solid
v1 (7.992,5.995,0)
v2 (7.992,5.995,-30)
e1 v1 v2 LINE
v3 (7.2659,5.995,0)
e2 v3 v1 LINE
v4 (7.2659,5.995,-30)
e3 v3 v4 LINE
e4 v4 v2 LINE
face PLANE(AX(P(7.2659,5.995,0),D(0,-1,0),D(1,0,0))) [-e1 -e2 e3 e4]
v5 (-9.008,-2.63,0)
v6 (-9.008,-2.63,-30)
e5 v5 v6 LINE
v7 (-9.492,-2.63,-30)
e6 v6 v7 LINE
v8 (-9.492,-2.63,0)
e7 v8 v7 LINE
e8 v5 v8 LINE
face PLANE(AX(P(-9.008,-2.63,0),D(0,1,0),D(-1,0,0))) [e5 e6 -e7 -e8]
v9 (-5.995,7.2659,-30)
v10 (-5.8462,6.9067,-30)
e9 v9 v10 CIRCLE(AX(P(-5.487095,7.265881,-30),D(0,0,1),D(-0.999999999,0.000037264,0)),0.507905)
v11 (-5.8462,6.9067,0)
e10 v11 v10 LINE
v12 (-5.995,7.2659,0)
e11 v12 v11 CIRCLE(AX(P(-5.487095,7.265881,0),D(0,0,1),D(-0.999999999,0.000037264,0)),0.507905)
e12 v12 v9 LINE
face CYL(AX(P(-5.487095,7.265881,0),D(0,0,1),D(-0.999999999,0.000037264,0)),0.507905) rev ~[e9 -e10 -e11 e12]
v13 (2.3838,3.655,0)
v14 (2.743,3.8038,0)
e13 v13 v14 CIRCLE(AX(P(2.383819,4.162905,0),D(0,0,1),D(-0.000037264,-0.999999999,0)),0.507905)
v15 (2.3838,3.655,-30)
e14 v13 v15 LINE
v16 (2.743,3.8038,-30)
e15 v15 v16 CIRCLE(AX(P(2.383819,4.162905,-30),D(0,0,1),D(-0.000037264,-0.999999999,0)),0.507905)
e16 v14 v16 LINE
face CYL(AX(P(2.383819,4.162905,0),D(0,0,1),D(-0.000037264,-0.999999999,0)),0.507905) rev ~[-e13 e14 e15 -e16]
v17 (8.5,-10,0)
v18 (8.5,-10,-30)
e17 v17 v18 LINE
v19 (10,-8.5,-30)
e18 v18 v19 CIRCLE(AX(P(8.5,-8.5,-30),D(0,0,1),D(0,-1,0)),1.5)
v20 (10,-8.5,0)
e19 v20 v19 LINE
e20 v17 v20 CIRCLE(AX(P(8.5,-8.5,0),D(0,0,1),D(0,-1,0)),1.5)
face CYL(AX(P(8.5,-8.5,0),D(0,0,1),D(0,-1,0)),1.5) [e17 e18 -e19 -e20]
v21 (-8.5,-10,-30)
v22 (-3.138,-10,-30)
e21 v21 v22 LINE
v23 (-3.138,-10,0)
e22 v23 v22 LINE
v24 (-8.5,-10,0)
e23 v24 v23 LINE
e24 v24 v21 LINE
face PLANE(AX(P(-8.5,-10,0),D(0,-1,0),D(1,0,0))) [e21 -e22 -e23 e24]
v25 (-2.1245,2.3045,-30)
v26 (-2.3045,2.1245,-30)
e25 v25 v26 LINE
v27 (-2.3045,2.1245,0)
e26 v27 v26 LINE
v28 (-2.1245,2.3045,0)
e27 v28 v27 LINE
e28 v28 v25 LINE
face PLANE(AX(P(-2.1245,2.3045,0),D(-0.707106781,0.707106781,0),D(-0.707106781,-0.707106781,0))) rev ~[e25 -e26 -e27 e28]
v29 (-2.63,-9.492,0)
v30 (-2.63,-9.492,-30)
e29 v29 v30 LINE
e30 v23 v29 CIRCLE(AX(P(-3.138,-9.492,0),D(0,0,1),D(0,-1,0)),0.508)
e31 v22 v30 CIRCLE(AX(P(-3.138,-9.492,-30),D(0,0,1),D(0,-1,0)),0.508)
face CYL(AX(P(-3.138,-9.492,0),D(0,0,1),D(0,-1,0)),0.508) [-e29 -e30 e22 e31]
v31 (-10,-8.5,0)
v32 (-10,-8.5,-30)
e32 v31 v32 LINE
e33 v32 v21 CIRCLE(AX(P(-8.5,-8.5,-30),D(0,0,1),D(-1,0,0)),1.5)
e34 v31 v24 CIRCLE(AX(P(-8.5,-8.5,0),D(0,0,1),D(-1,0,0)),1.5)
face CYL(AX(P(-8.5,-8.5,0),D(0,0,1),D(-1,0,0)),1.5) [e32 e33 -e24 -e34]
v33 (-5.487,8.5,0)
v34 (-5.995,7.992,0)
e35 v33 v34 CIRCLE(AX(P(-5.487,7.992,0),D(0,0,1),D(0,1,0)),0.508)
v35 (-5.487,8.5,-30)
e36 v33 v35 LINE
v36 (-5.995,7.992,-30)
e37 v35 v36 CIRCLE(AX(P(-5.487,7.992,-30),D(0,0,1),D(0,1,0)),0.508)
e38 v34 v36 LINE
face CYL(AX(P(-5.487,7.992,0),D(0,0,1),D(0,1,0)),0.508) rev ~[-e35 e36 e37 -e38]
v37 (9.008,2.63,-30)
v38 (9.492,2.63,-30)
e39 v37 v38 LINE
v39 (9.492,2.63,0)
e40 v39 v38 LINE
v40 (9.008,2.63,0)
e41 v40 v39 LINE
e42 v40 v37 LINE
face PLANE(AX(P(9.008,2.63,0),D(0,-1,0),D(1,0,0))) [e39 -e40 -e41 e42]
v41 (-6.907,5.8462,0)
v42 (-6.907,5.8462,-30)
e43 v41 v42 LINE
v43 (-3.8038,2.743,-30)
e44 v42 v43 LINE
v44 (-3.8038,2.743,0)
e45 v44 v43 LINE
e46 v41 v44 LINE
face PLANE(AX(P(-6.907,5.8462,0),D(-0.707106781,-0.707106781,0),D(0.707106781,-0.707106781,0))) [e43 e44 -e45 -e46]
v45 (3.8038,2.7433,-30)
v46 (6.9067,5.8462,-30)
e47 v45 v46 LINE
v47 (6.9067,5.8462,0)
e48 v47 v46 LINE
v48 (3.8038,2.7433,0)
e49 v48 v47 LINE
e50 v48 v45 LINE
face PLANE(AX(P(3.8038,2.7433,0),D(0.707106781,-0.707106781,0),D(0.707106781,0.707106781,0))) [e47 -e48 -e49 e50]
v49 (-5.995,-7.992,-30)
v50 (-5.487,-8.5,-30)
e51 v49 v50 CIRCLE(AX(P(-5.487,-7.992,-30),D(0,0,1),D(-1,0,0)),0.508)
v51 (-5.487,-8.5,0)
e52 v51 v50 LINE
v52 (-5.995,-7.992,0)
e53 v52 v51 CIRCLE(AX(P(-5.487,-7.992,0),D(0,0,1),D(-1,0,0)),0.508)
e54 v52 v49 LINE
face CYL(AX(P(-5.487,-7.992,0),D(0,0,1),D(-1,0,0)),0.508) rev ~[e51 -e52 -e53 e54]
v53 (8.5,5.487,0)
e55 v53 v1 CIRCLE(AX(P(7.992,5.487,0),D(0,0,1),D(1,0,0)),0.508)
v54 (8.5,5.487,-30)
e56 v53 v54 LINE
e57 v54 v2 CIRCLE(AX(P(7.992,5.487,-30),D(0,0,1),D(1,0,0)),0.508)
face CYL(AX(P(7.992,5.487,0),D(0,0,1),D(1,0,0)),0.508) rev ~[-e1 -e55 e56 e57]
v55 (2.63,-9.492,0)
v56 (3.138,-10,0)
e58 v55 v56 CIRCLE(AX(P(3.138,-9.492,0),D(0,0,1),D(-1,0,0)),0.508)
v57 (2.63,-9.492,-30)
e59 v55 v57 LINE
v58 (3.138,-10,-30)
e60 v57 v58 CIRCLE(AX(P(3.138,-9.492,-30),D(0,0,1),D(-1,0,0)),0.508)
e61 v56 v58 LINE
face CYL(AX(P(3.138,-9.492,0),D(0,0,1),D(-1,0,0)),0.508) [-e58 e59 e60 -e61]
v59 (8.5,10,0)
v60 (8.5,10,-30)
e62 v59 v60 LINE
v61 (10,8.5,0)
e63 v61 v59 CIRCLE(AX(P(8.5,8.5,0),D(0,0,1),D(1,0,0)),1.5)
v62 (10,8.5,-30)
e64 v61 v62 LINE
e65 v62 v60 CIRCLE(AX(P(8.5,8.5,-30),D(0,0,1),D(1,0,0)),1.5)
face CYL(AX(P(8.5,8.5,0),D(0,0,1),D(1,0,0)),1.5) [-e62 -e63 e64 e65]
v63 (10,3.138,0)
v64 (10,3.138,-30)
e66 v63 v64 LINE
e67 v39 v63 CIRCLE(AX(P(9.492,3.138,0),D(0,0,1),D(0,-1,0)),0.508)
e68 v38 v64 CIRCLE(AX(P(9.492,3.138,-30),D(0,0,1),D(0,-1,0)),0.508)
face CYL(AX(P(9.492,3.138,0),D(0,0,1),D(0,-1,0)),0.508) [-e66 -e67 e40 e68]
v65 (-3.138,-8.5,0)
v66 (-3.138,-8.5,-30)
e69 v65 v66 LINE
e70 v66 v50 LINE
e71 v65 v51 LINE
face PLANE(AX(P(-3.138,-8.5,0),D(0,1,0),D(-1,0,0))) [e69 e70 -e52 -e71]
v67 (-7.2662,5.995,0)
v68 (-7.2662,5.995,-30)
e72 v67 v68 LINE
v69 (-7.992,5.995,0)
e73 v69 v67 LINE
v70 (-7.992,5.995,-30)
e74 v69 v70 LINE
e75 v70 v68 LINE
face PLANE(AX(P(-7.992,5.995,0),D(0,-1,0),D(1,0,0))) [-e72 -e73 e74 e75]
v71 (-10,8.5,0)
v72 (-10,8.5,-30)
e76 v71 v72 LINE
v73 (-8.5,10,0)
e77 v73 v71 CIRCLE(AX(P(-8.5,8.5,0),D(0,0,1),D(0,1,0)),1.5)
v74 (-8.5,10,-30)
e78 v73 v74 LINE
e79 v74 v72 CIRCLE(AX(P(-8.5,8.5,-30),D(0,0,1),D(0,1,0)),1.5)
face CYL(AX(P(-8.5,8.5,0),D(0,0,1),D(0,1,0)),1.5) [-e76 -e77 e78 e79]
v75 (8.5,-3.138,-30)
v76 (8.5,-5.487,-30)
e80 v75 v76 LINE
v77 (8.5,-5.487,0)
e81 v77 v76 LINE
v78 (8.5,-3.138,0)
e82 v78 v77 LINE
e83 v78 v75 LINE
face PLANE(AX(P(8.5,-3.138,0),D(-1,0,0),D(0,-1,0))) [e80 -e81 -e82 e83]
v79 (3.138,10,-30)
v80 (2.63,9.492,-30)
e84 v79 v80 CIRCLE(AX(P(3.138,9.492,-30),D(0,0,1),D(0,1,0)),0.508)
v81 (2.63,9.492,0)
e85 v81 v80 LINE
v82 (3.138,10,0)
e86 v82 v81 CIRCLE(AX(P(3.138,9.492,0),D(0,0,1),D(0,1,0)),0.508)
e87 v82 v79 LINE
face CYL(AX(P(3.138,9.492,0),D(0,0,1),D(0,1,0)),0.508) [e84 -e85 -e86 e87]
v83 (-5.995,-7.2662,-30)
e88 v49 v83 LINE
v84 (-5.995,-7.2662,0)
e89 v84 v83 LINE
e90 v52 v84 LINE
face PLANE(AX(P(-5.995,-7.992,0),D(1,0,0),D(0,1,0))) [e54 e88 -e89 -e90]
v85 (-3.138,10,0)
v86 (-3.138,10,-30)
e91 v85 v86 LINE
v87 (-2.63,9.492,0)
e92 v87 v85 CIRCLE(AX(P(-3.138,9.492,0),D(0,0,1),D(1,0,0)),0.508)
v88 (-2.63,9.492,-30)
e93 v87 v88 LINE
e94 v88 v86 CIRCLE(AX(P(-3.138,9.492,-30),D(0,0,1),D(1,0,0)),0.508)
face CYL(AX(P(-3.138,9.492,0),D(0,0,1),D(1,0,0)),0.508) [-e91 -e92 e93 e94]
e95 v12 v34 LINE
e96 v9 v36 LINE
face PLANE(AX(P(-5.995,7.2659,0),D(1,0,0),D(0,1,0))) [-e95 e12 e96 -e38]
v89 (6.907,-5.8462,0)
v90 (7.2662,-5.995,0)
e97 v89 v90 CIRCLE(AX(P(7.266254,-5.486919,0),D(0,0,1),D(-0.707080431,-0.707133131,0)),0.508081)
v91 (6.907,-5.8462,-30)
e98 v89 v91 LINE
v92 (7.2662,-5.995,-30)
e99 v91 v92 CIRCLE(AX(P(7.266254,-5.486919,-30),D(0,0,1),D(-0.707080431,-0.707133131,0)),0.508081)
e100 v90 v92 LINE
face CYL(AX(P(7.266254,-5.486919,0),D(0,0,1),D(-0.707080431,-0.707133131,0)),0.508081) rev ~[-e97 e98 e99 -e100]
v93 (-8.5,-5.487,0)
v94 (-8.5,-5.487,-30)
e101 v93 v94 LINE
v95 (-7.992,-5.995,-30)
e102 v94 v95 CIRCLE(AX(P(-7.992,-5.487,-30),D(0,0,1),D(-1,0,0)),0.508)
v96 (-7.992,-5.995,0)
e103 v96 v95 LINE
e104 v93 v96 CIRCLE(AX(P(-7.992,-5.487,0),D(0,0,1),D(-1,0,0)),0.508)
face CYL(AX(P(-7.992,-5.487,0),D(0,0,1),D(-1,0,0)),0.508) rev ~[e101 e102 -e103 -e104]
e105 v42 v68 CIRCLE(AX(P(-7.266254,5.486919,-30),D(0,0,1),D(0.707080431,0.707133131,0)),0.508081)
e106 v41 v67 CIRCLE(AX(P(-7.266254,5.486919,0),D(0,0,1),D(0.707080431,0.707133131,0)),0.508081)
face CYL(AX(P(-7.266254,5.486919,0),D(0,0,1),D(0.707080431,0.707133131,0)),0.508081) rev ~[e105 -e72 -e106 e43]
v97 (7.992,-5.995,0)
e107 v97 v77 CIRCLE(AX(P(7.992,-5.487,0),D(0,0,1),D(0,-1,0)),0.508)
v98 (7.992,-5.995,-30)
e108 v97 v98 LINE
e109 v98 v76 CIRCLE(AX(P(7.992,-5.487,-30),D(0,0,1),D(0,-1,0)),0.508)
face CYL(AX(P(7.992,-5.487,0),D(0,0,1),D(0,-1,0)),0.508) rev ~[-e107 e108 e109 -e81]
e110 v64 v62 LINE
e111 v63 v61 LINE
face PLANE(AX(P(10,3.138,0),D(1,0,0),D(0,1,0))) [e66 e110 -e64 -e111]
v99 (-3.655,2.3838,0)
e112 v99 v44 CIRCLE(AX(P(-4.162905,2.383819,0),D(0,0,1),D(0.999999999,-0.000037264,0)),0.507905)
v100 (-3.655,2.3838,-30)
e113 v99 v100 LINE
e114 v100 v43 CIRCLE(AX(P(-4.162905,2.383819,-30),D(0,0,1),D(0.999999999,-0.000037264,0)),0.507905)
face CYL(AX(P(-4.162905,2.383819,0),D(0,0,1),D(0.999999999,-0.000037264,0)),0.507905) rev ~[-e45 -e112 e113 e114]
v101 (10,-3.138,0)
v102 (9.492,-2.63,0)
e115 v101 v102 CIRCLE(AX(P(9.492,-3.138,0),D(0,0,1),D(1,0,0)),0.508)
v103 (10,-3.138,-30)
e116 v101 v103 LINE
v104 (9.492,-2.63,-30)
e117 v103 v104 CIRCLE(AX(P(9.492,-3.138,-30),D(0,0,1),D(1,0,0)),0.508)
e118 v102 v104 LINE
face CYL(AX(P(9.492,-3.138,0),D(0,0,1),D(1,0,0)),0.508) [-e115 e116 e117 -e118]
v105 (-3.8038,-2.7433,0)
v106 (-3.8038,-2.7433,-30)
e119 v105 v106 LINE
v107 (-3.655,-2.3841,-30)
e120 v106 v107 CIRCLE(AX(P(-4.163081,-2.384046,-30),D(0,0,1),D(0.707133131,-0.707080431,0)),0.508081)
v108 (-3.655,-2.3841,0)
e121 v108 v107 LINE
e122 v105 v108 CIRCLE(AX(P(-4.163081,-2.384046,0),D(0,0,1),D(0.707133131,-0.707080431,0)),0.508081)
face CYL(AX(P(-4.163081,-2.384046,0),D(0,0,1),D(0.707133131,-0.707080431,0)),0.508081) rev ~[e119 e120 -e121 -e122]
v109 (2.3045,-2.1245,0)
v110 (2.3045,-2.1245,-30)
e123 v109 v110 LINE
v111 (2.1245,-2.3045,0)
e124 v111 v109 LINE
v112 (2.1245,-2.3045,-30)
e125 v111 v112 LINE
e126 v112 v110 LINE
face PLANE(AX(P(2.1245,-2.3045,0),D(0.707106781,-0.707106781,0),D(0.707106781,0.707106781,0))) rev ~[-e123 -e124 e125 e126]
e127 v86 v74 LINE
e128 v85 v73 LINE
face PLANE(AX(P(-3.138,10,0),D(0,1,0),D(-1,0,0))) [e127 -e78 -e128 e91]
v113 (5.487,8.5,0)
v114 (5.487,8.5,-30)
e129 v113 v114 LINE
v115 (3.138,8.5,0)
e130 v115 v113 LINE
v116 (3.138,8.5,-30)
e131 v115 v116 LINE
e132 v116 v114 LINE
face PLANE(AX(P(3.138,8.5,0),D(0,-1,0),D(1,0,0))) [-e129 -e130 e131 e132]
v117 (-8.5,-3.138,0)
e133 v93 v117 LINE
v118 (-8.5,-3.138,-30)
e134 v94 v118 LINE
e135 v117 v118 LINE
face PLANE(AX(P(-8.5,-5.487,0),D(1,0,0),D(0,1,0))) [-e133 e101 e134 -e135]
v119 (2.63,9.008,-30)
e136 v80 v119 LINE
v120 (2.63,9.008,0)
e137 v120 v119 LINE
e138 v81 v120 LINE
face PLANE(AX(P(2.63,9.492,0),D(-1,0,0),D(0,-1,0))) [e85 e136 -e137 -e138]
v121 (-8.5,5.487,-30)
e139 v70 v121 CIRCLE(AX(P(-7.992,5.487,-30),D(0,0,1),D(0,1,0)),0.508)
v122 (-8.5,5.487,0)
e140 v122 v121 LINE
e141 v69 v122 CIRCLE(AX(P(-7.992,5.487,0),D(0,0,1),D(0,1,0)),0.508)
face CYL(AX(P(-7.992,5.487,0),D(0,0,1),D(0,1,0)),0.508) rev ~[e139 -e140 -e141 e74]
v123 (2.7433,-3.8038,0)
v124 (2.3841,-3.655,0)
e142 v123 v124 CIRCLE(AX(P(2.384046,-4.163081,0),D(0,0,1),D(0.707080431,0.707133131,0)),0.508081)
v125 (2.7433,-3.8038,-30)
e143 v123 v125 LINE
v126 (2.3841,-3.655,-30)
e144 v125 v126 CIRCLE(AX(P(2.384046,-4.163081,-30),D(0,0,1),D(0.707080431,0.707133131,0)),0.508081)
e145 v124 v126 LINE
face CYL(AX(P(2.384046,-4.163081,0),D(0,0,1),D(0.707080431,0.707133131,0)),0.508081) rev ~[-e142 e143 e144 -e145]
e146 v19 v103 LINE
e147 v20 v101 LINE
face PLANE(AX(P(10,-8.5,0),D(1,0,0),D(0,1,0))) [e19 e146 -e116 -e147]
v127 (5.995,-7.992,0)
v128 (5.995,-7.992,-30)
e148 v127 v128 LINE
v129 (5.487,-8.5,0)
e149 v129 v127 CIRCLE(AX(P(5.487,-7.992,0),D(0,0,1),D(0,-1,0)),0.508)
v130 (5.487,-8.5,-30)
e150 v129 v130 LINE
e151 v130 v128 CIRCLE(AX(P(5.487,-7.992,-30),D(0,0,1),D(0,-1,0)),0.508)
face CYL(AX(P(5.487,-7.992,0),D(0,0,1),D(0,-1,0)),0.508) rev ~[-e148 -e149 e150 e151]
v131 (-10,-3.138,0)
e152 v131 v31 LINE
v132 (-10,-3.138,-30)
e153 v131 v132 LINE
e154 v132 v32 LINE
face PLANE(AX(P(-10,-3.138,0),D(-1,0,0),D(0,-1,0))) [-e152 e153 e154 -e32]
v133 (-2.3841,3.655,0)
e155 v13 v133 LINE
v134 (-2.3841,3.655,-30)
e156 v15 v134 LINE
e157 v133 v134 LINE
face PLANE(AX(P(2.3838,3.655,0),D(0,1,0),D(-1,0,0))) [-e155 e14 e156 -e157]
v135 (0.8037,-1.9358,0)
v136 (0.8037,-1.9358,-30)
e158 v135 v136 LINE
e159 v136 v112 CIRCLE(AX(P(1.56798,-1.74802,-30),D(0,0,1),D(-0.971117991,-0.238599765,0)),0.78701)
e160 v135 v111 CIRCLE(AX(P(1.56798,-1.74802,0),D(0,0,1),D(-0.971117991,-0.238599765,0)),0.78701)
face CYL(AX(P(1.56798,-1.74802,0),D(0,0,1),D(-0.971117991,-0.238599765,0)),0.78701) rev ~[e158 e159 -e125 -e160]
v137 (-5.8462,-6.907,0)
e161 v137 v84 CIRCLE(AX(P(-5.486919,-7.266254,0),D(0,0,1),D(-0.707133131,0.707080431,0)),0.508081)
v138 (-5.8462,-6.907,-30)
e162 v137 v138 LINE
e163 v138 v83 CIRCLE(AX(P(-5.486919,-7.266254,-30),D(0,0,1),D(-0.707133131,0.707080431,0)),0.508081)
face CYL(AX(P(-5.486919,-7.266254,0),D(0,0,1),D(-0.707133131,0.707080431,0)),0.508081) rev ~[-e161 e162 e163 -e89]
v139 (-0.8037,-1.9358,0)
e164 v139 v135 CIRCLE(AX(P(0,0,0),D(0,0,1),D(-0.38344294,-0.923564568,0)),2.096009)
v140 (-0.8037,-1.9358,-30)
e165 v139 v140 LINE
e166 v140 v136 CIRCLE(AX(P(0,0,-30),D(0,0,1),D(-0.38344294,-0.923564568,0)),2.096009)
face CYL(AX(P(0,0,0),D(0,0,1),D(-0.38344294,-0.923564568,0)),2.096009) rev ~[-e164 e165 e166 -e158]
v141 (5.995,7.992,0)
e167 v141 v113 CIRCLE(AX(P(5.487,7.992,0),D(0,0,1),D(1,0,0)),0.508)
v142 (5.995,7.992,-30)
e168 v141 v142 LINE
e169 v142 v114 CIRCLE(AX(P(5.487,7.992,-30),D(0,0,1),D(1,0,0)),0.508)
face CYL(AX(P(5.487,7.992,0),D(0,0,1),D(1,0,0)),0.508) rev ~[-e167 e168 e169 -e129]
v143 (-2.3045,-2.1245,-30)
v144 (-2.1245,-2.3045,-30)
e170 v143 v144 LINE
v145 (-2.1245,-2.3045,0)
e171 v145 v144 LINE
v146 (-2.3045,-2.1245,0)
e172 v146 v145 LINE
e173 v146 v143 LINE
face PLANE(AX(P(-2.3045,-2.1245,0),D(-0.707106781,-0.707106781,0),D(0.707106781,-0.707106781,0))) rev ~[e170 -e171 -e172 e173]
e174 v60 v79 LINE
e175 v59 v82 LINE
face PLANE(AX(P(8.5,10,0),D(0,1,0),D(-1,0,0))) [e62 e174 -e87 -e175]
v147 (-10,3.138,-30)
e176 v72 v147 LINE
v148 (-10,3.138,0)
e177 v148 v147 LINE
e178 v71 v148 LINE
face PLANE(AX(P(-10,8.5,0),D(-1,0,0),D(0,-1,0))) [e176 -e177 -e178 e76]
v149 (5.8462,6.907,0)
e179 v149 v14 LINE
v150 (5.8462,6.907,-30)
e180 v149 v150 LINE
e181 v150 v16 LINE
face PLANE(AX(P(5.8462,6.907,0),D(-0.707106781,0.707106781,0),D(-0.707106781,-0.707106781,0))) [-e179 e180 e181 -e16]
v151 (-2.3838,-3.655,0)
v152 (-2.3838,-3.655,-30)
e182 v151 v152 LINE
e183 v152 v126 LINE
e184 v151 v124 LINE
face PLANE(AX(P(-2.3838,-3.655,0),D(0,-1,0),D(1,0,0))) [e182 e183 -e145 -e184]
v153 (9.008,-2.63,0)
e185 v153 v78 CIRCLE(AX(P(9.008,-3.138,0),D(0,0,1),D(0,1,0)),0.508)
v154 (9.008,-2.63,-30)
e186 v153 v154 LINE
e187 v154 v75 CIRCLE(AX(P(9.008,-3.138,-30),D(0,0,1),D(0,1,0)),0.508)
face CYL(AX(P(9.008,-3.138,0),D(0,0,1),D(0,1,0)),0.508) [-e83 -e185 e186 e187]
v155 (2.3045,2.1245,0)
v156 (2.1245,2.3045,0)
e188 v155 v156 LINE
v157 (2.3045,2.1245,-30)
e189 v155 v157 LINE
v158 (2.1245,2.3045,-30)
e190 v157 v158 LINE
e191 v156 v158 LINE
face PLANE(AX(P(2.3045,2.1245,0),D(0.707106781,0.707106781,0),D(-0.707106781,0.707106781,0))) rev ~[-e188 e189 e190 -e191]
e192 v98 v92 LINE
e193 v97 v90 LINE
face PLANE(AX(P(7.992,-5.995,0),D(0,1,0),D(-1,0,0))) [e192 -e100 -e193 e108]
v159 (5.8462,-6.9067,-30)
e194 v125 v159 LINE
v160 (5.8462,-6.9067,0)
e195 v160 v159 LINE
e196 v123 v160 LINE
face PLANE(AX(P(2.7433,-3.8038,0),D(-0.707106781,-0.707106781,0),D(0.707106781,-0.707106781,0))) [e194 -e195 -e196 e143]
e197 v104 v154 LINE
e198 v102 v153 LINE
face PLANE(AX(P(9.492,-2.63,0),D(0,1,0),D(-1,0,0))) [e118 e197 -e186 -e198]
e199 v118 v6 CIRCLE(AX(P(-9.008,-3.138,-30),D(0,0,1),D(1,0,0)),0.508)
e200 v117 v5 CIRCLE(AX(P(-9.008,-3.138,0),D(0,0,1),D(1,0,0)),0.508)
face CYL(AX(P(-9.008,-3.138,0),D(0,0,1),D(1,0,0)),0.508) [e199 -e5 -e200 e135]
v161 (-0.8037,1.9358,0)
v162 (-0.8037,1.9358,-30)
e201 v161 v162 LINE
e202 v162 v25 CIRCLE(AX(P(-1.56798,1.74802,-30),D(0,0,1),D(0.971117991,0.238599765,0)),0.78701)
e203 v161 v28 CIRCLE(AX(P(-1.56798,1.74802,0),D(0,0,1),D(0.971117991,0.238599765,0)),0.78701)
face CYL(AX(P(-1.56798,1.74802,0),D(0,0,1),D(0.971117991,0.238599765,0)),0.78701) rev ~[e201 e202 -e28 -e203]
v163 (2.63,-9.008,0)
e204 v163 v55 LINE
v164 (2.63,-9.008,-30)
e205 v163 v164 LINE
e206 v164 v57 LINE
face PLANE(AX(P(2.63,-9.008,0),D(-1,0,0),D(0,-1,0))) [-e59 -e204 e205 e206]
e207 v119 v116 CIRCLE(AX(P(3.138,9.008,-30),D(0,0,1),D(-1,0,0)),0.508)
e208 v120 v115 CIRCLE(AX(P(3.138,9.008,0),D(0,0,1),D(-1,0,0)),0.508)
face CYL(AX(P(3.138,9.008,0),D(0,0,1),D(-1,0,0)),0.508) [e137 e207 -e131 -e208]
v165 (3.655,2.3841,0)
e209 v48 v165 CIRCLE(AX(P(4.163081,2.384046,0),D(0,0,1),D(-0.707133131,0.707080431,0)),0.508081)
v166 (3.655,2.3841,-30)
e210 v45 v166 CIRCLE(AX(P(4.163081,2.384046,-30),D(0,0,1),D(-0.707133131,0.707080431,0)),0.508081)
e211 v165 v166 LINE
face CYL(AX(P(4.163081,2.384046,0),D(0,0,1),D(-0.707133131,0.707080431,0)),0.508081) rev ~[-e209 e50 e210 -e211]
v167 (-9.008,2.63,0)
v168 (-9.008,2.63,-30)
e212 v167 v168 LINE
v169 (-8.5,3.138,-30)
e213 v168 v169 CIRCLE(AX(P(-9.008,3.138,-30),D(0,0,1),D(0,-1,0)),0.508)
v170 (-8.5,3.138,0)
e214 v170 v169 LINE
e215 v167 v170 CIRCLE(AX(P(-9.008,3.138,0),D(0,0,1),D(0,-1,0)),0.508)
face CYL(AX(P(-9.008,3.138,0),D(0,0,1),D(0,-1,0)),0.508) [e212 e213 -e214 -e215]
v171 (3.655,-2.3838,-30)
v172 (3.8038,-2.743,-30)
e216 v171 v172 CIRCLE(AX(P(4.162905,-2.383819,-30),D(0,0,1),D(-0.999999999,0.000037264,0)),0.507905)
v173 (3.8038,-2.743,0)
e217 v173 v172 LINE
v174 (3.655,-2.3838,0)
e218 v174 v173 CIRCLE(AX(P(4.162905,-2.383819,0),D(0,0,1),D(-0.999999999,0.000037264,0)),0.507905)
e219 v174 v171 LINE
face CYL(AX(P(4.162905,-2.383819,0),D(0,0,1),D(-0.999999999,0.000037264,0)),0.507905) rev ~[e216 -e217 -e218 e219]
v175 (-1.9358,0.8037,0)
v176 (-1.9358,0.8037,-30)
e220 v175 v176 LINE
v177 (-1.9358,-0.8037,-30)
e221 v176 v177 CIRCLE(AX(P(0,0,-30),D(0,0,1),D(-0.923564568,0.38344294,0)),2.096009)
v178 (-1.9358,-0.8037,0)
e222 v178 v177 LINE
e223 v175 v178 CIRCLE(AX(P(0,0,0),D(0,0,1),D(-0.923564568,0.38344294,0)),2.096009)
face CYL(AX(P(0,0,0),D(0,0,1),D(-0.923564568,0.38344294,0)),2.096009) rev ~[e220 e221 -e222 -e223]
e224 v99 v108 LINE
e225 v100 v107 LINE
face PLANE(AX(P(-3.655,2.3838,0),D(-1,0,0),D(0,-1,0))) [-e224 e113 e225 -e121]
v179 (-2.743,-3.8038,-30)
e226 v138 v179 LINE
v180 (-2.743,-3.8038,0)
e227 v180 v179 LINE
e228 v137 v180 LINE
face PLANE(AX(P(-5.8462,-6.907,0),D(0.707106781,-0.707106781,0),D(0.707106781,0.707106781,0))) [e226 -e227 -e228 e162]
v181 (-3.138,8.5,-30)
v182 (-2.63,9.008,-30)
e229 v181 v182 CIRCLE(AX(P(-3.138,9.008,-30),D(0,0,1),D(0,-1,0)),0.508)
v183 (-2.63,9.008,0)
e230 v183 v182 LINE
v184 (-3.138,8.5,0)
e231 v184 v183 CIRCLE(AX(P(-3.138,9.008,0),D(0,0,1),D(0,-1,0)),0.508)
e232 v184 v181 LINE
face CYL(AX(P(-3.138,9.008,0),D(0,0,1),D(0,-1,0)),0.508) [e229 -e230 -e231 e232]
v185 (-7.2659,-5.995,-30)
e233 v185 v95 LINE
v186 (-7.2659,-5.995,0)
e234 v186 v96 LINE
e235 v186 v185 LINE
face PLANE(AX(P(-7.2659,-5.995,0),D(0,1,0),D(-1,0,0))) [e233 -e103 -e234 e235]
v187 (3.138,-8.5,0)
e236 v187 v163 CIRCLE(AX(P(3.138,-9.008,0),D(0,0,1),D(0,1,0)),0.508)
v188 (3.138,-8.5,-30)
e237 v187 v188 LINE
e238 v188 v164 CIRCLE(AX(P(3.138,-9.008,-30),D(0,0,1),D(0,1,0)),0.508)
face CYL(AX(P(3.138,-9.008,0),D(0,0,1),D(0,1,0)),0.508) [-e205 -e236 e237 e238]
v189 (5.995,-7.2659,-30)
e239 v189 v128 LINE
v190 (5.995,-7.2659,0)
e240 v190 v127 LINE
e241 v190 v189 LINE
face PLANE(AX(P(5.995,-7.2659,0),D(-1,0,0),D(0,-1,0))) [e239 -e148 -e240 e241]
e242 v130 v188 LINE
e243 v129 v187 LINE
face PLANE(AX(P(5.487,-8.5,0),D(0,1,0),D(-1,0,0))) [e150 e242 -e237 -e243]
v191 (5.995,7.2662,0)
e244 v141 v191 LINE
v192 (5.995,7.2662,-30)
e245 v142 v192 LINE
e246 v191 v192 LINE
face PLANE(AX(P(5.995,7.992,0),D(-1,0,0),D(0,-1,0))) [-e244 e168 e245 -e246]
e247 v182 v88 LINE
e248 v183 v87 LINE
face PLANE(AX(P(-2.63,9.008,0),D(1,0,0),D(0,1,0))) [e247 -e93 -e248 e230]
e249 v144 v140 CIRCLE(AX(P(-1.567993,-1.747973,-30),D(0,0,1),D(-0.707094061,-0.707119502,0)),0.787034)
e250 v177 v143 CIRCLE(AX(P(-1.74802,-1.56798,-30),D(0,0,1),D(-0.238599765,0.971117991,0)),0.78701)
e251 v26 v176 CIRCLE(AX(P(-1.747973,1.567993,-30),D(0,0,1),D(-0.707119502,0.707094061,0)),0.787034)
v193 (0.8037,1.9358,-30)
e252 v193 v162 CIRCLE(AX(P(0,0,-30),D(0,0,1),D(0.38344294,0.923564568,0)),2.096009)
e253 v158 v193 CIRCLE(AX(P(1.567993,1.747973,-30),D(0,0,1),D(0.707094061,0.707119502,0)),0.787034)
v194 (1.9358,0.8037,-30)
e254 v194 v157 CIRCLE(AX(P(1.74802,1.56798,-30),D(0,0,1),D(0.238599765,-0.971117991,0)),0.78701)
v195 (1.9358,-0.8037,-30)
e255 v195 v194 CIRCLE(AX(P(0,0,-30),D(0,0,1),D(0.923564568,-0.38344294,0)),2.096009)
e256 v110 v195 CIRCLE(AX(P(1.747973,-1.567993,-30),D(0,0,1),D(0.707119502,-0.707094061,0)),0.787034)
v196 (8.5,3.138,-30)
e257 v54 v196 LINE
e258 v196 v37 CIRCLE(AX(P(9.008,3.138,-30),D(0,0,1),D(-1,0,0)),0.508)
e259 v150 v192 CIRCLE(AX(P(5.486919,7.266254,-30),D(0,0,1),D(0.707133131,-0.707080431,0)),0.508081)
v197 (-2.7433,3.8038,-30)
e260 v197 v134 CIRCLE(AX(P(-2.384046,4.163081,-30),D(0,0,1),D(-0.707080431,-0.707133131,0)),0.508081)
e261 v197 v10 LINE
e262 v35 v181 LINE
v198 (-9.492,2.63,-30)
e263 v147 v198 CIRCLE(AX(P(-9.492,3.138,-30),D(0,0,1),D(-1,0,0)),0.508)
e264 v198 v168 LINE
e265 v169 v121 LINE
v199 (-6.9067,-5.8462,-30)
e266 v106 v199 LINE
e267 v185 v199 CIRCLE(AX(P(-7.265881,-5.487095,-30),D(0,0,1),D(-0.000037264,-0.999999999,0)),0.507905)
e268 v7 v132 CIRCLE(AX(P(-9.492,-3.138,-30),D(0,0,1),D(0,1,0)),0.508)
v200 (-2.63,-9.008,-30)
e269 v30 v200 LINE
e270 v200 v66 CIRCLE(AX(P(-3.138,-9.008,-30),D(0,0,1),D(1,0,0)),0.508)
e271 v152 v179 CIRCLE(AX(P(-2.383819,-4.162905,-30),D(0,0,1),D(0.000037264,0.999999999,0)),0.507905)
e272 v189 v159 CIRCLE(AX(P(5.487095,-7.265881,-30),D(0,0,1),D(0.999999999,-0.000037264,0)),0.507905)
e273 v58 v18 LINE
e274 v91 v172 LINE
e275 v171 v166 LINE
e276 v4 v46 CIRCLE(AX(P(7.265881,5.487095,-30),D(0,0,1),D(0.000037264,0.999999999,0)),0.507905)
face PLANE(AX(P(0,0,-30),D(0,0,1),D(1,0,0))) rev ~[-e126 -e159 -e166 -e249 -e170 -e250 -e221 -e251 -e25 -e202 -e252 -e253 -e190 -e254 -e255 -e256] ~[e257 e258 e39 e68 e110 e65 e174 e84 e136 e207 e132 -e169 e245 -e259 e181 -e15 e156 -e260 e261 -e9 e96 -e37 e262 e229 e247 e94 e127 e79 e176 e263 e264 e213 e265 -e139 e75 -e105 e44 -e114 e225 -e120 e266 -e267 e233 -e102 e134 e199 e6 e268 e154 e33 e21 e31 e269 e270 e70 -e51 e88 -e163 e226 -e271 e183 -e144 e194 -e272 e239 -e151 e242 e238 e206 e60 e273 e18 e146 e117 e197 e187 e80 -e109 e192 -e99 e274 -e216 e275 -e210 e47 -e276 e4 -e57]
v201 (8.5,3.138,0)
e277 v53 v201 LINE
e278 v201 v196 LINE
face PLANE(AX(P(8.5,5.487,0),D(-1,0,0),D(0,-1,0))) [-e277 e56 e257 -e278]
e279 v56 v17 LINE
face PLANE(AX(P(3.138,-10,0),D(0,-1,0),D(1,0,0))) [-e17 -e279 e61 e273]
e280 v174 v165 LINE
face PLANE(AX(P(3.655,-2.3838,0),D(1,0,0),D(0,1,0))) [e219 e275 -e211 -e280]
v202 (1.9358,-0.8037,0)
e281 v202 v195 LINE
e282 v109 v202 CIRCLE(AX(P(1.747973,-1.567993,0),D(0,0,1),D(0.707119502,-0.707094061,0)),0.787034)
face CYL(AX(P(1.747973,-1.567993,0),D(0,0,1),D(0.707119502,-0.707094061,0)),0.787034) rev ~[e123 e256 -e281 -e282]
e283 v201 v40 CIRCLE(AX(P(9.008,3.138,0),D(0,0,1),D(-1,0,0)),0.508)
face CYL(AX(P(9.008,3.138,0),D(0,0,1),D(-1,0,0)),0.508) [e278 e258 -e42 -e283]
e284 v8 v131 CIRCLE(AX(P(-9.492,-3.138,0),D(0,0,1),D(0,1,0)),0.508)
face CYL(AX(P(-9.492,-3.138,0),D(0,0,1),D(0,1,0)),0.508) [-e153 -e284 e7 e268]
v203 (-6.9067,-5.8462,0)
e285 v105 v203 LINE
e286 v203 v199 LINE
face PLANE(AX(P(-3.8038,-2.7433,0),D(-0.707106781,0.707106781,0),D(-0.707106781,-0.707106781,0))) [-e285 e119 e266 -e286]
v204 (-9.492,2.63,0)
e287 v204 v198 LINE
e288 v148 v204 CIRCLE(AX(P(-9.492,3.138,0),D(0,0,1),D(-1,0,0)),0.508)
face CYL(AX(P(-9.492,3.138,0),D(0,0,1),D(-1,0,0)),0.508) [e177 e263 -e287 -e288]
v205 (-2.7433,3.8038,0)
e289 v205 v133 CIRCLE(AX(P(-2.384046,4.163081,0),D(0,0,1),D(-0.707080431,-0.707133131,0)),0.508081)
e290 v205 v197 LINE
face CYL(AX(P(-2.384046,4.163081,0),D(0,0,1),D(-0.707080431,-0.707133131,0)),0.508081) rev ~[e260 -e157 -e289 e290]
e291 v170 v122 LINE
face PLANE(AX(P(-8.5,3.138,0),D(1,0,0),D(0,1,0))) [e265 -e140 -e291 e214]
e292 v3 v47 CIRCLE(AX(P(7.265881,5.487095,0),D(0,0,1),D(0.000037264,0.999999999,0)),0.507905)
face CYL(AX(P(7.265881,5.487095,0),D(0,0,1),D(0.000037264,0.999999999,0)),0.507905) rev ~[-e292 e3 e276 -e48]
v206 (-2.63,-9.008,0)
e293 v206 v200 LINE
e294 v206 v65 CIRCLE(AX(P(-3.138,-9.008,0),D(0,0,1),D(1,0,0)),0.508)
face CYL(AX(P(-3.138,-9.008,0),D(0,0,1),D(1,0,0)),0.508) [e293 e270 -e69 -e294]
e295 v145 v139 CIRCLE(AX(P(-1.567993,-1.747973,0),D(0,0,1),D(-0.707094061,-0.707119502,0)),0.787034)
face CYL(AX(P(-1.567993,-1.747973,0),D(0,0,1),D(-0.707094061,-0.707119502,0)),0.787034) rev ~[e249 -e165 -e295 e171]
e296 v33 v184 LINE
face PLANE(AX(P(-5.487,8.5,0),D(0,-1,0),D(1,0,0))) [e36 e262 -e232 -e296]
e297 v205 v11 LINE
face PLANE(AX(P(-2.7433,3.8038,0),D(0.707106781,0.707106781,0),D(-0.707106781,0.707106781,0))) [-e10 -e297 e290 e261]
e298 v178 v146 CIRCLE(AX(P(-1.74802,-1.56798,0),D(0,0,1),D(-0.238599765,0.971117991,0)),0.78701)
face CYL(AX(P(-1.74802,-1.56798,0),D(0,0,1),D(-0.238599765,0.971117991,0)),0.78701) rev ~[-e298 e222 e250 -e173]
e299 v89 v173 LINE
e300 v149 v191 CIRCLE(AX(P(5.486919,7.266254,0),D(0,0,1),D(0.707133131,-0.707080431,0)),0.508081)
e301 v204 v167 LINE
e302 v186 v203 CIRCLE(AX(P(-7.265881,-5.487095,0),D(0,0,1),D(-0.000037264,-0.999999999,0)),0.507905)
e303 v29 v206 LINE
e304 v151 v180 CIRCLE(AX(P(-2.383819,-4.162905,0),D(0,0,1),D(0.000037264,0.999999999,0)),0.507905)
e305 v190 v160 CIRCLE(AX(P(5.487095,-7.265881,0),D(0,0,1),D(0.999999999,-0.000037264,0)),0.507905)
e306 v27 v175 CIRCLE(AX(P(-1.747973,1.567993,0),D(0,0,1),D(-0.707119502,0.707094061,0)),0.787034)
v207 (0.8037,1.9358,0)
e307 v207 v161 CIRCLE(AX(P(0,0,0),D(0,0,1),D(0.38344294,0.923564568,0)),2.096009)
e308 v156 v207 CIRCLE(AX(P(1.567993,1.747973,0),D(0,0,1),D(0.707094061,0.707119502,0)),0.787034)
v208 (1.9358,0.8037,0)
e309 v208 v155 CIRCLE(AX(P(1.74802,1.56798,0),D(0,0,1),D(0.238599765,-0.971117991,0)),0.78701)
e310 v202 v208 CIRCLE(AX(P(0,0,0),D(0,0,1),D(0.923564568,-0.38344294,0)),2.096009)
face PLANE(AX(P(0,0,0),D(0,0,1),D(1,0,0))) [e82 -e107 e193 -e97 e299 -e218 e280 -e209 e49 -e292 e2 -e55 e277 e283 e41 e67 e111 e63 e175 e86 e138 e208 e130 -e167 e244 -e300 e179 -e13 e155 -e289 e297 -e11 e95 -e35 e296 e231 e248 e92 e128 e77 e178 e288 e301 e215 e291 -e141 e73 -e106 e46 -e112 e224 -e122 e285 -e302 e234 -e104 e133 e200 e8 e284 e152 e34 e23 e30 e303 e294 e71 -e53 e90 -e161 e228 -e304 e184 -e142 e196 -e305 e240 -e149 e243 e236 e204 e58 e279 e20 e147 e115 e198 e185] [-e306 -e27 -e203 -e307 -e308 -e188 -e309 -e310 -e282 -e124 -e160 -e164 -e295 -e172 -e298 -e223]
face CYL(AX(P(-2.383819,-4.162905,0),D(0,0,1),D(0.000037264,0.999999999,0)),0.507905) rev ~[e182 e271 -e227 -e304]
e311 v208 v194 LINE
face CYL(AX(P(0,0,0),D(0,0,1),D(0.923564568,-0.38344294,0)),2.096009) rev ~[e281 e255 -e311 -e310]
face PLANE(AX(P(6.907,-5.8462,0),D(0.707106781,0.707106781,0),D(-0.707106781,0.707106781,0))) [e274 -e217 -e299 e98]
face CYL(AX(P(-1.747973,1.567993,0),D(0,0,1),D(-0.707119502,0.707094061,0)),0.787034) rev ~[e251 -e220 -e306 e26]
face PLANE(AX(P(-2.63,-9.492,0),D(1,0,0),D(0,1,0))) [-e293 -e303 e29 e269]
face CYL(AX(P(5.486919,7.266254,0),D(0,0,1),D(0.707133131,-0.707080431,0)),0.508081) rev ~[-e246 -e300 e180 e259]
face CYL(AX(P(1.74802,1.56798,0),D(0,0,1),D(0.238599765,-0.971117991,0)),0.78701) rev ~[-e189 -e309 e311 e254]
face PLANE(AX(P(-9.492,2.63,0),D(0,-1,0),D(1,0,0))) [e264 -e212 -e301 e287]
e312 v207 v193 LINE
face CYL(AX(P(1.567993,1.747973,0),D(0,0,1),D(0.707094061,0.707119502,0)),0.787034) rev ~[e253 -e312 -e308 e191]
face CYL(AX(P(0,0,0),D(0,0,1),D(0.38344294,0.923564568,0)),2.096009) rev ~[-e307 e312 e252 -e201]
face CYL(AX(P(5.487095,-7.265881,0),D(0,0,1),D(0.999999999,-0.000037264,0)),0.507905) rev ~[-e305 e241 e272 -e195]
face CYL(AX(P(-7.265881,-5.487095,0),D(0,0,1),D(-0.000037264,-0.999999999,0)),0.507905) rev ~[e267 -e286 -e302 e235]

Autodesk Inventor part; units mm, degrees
ref_plane "YZ Plane" through (0, 0, 0) normal (1, 0, 0) x (0, 1, 0)
ref_plane "XZ Plane" through (0, 0, 0) normal (0, 1, 0) x (-1, 0, 0)
ref_plane "XY Plane" through (0, 0, 0) normal (0, 0, 1) x (1, 0, 0)
sketch "Sketch_1" plane through (0, 0, 0) normal (0, 0, 1) x (1, 0, 0)
  arc A0 (-10, -8.5) -> (-8.5, -10) centre (-8.5, -8.5) ccw
  line L0 (-8.5, -10) -> (-3.138, -10)
  arc A1 (-3.138, -10) -> (-2.63, -9.492) centre (-3.138, -9.492) ccw
  line L1 (-2.63, -9.492) -> (-2.63, -9.008)
  arc A2 (-2.63, -9.008) -> (-3.138, -8.5) centre (-3.138, -9.008) ccw
  line L2 (-3.138, -8.5) -> (-5.487, -8.5)
  arc A3 (-5.995, -7.992) -> (-5.487, -8.5) centre (-5.487, -7.992) ccw
  line L3 (-5.995, -7.992) -> (-5.995, -7.2662)
  arc A4 (-5.8462, -6.907) -> (-5.995, -7.2662) centre (-5.487, -7.2662) ccw
  line L4 (-5.8462, -6.907) -> (-2.743, -3.8038)
  arc A5 (-2.3838, -3.655) -> (-2.743, -3.8038) centre (-2.3838, -4.163) ccw
  line L5 (-2.3838, -3.655) -> (2.3841, -3.655)
  arc A6 (2.7433, -3.8038) -> (2.3841, -3.655) centre (2.3841, -4.163) ccw
  line L6 (2.7433, -3.8038) -> (5.8462, -6.9067)
  arc A7 (5.995, -7.2659) -> (5.8462, -6.9067) centre (5.487, -7.2659) ccw
  line L7 (5.995, -7.2659) -> (5.995, -7.992)
  arc A8 (5.487, -8.5) -> (5.995, -7.992) centre (5.487, -7.992) ccw
  line L8 (5.487, -8.5) -> (3.138, -8.5)
  arc A9 (3.138, -8.5) -> (2.63, -9.008) centre (3.138, -9.008) ccw
  line L9 (2.63, -9.008) -> (2.63, -9.492)
  arc A10 (2.63, -9.492) -> (3.138, -10) centre (3.138, -9.492) ccw
  line L10 (3.138, -10) -> (8.5, -10)
  arc A11 (8.5, -10) -> (10, -8.5) centre (8.5, -8.5) ccw
  line L11 (10, -8.5) -> (10, -3.138)
  arc A12 (10, -3.138) -> (9.492, -2.63) centre (9.492, -3.138) ccw
  line L12 (9.492, -2.63) -> (9.008, -2.63)
  arc A13 (9.008, -2.63) -> (8.5, -3.138) centre (9.008, -3.138) ccw
  line L13 (8.5, -3.138) -> (8.5, -5.487)
  arc A14 (7.992, -5.995) -> (8.5, -5.487) centre (7.992, -5.487) ccw
  line L14 (7.992, -5.995) -> (7.2662, -5.995)
  arc A15 (6.907, -5.8462) -> (7.2662, -5.995) centre (7.2662, -5.487) ccw
  line L15 (6.907, -5.8462) -> (3.8038, -2.743)
  arc A16 (3.655, -2.3838) -> (3.8038, -2.743) centre (4.163, -2.3838) ccw
  line L16 (3.655, -2.3838) -> (3.655, 2.3841)
  arc A17 (3.8038, 2.7433) -> (3.655, 2.3841) centre (4.163, 2.3841) ccw
  line L17 (3.8038, 2.7433) -> (6.9067, 5.8462)
  arc A18 (7.2659, 5.995) -> (6.9067, 5.8462) centre (7.2659, 5.487) ccw
  line L18 (7.2659, 5.995) -> (7.992, 5.995)
  arc A19 (8.5, 5.487) -> (7.992, 5.995) centre (7.992, 5.487) ccw
  line L19 (8.5, 5.487) -> (8.5, 3.138)
  arc A20 (8.5, 3.138) -> (9.008, 2.63) centre (9.008, 3.138) ccw
  line L20 (9.008, 2.63) -> (9.492, 2.63)
  arc A21 (9.492, 2.63) -> (10, 3.138) centre (9.492, 3.138) ccw
  line L21 (10, 3.138) -> (10, 8.5)
  arc A22 (10, 8.5) -> (8.5, 10) centre (8.5, 8.5) ccw
  line L22 (8.5, 10) -> (3.138, 10)
  arc A23 (3.138, 10) -> (2.63, 9.492) centre (3.138, 9.492) ccw
  line L23 (2.63, 9.492) -> (2.63, 9.008)
  arc A24 (2.63, 9.008) -> (3.138, 8.5) centre (3.138, 9.008) ccw
  line L24 (3.138, 8.5) -> (5.487, 8.5)
  arc A25 (5.995, 7.992) -> (5.487, 8.5) centre (5.487, 7.992) ccw
  line L25 (5.995, 7.992) -> (5.995, 7.2662)
  arc A26 (5.8462, 6.907) -> (5.995, 7.2662) centre (5.487, 7.2662) ccw
  line L26 (5.8462, 6.907) -> (2.743, 3.8038)
  arc A27 (2.3838, 3.655) -> (2.743, 3.8038) centre (2.3838, 4.163) ccw
  line L27 (2.3838, 3.655) -> (-2.3841, 3.655)
  arc A28 (-2.7433, 3.8038) -> (-2.3841, 3.655) centre (-2.3841, 4.163) ccw
  line L28 (-2.7433, 3.8038) -> (-5.8462, 6.9067)
  arc A29 (-5.995, 7.2659) -> (-5.8462, 6.9067) centre (-5.487, 7.2659) ccw
  line L29 (-5.995, 7.2659) -> (-5.995, 7.992)
  arc A30 (-5.487, 8.5) -> (-5.995, 7.992) centre (-5.487, 7.992) ccw
  line L30 (-5.487, 8.5) -> (-3.138, 8.5)
  arc A31 (-3.138, 8.5) -> (-2.63, 9.008) centre (-3.138, 9.008) ccw
  line L31 (-2.63, 9.008) -> (-2.63, 9.492)
  arc A32 (-2.63, 9.492) -> (-3.138, 10) centre (-3.138, 9.492) ccw
  line L32 (-3.138, 10) -> (-8.5, 10)
  arc A33 (-8.5, 10) -> (-10, 8.5) centre (-8.5, 8.5) ccw
  line L33 (-10, 8.5) -> (-10, 3.138)
  arc A34 (-10, 3.138) -> (-9.492, 2.63) centre (-9.492, 3.138) ccw
  line L34 (-9.492, 2.63) -> (-9.008, 2.63)
  arc A35 (-9.008, 2.63) -> (-8.5, 3.138) centre (-9.008, 3.138) ccw
  line L35 (-8.5, 3.138) -> (-8.5, 5.487)
  arc A36 (-7.992, 5.995) -> (-8.5, 5.487) centre (-7.992, 5.487) ccw
  line L36 (-7.992, 5.995) -> (-7.2662, 5.995)
  arc A37 (-6.907, 5.8462) -> (-7.2662, 5.995) centre (-7.2662, 5.487) ccw
  line L37 (-6.907, 5.8462) -> (-3.8038, 2.743)
  arc A38 (-3.655, 2.3838) -> (-3.8038, 2.743) centre (-4.163, 2.3838) ccw
  line L38 (-3.655, 2.3838) -> (-3.655, -2.3841)
  arc A39 (-3.8038, -2.7433) -> (-3.655, -2.3841) centre (-4.163, -2.3841) ccw
  line L39 (-3.8038, -2.7433) -> (-6.9067, -5.8462)
  arc A40 (-7.2659, -5.995) -> (-6.9067, -5.8462) centre (-7.2659, -5.487) ccw
  line L40 (-7.2659, -5.995) -> (-7.992, -5.995)
  arc A41 (-8.5, -5.487) -> (-7.992, -5.995) centre (-7.992, -5.487) ccw
  line L41 (-8.5, -5.487) -> (-8.5, -3.138)
  arc A42 (-8.5, -3.138) -> (-9.008, -2.63) centre (-9.008, -3.138) ccw
  line L42 (-9.008, -2.63) -> (-9.492, -2.63)
  arc A43 (-9.492, -2.63) -> (-10, -3.138) centre (-9.492, -3.138) ccw
  line L43 (-10, -3.138) -> (-10, -8.5)
  arc A44 (-1.9358, -0.8037) -> (-2.3045, -2.1245) centre (-1.748, -1.568) ccw
  line L44 (-2.3045, -2.1245) -> (-2.1245, -2.3045)
  arc A45 (-2.1245, -2.3045) -> (-0.8037, -1.9358) centre (-1.568, -1.748) ccw
  arc A46 (-0.8037, -1.9358) -> (0.8037, -1.9358) centre (0, 0) ccw
  arc A47 (0.8037, -1.9358) -> (2.1245, -2.3045) centre (1.568, -1.748) ccw
  line L45 (2.1245, -2.3045) -> (2.3045, -2.1245)
  arc A48 (2.3045, -2.1245) -> (1.9358, -0.8037) centre (1.748, -1.568) ccw
  arc A49 (1.9358, -0.8037) -> (1.9358, 0.8037) centre (0, 0) ccw
  arc A50 (1.9358, 0.8037) -> (2.3045, 2.1245) centre (1.748, 1.568) ccw
  line L46 (2.3045, 2.1245) -> (2.1245, 2.3045)
  arc A51 (2.1245, 2.3045) -> (0.8037, 1.9358) centre (1.568, 1.748) ccw
  arc A52 (0.8037, 1.9358) -> (-0.8037, 1.9358) centre (0, 0) ccw
  arc A53 (-0.8037, 1.9358) -> (-2.1245, 2.3045) centre (-1.568, 1.748) ccw
  line L47 (-2.1245, 2.3045) -> (-2.3045, 2.1245)
  arc A54 (-2.3045, 2.1245) -> (-1.9358, 0.8037) centre (-1.748, 1.568) ccw
  arc A55 (-1.9358, 0.8037) -> (-1.9358, -0.8037) centre (0, 0) ccw
extrude "Extrusion1" add sketch "Sketch_1" against normal blind 30
properties part number "20-2020-30-CL"
